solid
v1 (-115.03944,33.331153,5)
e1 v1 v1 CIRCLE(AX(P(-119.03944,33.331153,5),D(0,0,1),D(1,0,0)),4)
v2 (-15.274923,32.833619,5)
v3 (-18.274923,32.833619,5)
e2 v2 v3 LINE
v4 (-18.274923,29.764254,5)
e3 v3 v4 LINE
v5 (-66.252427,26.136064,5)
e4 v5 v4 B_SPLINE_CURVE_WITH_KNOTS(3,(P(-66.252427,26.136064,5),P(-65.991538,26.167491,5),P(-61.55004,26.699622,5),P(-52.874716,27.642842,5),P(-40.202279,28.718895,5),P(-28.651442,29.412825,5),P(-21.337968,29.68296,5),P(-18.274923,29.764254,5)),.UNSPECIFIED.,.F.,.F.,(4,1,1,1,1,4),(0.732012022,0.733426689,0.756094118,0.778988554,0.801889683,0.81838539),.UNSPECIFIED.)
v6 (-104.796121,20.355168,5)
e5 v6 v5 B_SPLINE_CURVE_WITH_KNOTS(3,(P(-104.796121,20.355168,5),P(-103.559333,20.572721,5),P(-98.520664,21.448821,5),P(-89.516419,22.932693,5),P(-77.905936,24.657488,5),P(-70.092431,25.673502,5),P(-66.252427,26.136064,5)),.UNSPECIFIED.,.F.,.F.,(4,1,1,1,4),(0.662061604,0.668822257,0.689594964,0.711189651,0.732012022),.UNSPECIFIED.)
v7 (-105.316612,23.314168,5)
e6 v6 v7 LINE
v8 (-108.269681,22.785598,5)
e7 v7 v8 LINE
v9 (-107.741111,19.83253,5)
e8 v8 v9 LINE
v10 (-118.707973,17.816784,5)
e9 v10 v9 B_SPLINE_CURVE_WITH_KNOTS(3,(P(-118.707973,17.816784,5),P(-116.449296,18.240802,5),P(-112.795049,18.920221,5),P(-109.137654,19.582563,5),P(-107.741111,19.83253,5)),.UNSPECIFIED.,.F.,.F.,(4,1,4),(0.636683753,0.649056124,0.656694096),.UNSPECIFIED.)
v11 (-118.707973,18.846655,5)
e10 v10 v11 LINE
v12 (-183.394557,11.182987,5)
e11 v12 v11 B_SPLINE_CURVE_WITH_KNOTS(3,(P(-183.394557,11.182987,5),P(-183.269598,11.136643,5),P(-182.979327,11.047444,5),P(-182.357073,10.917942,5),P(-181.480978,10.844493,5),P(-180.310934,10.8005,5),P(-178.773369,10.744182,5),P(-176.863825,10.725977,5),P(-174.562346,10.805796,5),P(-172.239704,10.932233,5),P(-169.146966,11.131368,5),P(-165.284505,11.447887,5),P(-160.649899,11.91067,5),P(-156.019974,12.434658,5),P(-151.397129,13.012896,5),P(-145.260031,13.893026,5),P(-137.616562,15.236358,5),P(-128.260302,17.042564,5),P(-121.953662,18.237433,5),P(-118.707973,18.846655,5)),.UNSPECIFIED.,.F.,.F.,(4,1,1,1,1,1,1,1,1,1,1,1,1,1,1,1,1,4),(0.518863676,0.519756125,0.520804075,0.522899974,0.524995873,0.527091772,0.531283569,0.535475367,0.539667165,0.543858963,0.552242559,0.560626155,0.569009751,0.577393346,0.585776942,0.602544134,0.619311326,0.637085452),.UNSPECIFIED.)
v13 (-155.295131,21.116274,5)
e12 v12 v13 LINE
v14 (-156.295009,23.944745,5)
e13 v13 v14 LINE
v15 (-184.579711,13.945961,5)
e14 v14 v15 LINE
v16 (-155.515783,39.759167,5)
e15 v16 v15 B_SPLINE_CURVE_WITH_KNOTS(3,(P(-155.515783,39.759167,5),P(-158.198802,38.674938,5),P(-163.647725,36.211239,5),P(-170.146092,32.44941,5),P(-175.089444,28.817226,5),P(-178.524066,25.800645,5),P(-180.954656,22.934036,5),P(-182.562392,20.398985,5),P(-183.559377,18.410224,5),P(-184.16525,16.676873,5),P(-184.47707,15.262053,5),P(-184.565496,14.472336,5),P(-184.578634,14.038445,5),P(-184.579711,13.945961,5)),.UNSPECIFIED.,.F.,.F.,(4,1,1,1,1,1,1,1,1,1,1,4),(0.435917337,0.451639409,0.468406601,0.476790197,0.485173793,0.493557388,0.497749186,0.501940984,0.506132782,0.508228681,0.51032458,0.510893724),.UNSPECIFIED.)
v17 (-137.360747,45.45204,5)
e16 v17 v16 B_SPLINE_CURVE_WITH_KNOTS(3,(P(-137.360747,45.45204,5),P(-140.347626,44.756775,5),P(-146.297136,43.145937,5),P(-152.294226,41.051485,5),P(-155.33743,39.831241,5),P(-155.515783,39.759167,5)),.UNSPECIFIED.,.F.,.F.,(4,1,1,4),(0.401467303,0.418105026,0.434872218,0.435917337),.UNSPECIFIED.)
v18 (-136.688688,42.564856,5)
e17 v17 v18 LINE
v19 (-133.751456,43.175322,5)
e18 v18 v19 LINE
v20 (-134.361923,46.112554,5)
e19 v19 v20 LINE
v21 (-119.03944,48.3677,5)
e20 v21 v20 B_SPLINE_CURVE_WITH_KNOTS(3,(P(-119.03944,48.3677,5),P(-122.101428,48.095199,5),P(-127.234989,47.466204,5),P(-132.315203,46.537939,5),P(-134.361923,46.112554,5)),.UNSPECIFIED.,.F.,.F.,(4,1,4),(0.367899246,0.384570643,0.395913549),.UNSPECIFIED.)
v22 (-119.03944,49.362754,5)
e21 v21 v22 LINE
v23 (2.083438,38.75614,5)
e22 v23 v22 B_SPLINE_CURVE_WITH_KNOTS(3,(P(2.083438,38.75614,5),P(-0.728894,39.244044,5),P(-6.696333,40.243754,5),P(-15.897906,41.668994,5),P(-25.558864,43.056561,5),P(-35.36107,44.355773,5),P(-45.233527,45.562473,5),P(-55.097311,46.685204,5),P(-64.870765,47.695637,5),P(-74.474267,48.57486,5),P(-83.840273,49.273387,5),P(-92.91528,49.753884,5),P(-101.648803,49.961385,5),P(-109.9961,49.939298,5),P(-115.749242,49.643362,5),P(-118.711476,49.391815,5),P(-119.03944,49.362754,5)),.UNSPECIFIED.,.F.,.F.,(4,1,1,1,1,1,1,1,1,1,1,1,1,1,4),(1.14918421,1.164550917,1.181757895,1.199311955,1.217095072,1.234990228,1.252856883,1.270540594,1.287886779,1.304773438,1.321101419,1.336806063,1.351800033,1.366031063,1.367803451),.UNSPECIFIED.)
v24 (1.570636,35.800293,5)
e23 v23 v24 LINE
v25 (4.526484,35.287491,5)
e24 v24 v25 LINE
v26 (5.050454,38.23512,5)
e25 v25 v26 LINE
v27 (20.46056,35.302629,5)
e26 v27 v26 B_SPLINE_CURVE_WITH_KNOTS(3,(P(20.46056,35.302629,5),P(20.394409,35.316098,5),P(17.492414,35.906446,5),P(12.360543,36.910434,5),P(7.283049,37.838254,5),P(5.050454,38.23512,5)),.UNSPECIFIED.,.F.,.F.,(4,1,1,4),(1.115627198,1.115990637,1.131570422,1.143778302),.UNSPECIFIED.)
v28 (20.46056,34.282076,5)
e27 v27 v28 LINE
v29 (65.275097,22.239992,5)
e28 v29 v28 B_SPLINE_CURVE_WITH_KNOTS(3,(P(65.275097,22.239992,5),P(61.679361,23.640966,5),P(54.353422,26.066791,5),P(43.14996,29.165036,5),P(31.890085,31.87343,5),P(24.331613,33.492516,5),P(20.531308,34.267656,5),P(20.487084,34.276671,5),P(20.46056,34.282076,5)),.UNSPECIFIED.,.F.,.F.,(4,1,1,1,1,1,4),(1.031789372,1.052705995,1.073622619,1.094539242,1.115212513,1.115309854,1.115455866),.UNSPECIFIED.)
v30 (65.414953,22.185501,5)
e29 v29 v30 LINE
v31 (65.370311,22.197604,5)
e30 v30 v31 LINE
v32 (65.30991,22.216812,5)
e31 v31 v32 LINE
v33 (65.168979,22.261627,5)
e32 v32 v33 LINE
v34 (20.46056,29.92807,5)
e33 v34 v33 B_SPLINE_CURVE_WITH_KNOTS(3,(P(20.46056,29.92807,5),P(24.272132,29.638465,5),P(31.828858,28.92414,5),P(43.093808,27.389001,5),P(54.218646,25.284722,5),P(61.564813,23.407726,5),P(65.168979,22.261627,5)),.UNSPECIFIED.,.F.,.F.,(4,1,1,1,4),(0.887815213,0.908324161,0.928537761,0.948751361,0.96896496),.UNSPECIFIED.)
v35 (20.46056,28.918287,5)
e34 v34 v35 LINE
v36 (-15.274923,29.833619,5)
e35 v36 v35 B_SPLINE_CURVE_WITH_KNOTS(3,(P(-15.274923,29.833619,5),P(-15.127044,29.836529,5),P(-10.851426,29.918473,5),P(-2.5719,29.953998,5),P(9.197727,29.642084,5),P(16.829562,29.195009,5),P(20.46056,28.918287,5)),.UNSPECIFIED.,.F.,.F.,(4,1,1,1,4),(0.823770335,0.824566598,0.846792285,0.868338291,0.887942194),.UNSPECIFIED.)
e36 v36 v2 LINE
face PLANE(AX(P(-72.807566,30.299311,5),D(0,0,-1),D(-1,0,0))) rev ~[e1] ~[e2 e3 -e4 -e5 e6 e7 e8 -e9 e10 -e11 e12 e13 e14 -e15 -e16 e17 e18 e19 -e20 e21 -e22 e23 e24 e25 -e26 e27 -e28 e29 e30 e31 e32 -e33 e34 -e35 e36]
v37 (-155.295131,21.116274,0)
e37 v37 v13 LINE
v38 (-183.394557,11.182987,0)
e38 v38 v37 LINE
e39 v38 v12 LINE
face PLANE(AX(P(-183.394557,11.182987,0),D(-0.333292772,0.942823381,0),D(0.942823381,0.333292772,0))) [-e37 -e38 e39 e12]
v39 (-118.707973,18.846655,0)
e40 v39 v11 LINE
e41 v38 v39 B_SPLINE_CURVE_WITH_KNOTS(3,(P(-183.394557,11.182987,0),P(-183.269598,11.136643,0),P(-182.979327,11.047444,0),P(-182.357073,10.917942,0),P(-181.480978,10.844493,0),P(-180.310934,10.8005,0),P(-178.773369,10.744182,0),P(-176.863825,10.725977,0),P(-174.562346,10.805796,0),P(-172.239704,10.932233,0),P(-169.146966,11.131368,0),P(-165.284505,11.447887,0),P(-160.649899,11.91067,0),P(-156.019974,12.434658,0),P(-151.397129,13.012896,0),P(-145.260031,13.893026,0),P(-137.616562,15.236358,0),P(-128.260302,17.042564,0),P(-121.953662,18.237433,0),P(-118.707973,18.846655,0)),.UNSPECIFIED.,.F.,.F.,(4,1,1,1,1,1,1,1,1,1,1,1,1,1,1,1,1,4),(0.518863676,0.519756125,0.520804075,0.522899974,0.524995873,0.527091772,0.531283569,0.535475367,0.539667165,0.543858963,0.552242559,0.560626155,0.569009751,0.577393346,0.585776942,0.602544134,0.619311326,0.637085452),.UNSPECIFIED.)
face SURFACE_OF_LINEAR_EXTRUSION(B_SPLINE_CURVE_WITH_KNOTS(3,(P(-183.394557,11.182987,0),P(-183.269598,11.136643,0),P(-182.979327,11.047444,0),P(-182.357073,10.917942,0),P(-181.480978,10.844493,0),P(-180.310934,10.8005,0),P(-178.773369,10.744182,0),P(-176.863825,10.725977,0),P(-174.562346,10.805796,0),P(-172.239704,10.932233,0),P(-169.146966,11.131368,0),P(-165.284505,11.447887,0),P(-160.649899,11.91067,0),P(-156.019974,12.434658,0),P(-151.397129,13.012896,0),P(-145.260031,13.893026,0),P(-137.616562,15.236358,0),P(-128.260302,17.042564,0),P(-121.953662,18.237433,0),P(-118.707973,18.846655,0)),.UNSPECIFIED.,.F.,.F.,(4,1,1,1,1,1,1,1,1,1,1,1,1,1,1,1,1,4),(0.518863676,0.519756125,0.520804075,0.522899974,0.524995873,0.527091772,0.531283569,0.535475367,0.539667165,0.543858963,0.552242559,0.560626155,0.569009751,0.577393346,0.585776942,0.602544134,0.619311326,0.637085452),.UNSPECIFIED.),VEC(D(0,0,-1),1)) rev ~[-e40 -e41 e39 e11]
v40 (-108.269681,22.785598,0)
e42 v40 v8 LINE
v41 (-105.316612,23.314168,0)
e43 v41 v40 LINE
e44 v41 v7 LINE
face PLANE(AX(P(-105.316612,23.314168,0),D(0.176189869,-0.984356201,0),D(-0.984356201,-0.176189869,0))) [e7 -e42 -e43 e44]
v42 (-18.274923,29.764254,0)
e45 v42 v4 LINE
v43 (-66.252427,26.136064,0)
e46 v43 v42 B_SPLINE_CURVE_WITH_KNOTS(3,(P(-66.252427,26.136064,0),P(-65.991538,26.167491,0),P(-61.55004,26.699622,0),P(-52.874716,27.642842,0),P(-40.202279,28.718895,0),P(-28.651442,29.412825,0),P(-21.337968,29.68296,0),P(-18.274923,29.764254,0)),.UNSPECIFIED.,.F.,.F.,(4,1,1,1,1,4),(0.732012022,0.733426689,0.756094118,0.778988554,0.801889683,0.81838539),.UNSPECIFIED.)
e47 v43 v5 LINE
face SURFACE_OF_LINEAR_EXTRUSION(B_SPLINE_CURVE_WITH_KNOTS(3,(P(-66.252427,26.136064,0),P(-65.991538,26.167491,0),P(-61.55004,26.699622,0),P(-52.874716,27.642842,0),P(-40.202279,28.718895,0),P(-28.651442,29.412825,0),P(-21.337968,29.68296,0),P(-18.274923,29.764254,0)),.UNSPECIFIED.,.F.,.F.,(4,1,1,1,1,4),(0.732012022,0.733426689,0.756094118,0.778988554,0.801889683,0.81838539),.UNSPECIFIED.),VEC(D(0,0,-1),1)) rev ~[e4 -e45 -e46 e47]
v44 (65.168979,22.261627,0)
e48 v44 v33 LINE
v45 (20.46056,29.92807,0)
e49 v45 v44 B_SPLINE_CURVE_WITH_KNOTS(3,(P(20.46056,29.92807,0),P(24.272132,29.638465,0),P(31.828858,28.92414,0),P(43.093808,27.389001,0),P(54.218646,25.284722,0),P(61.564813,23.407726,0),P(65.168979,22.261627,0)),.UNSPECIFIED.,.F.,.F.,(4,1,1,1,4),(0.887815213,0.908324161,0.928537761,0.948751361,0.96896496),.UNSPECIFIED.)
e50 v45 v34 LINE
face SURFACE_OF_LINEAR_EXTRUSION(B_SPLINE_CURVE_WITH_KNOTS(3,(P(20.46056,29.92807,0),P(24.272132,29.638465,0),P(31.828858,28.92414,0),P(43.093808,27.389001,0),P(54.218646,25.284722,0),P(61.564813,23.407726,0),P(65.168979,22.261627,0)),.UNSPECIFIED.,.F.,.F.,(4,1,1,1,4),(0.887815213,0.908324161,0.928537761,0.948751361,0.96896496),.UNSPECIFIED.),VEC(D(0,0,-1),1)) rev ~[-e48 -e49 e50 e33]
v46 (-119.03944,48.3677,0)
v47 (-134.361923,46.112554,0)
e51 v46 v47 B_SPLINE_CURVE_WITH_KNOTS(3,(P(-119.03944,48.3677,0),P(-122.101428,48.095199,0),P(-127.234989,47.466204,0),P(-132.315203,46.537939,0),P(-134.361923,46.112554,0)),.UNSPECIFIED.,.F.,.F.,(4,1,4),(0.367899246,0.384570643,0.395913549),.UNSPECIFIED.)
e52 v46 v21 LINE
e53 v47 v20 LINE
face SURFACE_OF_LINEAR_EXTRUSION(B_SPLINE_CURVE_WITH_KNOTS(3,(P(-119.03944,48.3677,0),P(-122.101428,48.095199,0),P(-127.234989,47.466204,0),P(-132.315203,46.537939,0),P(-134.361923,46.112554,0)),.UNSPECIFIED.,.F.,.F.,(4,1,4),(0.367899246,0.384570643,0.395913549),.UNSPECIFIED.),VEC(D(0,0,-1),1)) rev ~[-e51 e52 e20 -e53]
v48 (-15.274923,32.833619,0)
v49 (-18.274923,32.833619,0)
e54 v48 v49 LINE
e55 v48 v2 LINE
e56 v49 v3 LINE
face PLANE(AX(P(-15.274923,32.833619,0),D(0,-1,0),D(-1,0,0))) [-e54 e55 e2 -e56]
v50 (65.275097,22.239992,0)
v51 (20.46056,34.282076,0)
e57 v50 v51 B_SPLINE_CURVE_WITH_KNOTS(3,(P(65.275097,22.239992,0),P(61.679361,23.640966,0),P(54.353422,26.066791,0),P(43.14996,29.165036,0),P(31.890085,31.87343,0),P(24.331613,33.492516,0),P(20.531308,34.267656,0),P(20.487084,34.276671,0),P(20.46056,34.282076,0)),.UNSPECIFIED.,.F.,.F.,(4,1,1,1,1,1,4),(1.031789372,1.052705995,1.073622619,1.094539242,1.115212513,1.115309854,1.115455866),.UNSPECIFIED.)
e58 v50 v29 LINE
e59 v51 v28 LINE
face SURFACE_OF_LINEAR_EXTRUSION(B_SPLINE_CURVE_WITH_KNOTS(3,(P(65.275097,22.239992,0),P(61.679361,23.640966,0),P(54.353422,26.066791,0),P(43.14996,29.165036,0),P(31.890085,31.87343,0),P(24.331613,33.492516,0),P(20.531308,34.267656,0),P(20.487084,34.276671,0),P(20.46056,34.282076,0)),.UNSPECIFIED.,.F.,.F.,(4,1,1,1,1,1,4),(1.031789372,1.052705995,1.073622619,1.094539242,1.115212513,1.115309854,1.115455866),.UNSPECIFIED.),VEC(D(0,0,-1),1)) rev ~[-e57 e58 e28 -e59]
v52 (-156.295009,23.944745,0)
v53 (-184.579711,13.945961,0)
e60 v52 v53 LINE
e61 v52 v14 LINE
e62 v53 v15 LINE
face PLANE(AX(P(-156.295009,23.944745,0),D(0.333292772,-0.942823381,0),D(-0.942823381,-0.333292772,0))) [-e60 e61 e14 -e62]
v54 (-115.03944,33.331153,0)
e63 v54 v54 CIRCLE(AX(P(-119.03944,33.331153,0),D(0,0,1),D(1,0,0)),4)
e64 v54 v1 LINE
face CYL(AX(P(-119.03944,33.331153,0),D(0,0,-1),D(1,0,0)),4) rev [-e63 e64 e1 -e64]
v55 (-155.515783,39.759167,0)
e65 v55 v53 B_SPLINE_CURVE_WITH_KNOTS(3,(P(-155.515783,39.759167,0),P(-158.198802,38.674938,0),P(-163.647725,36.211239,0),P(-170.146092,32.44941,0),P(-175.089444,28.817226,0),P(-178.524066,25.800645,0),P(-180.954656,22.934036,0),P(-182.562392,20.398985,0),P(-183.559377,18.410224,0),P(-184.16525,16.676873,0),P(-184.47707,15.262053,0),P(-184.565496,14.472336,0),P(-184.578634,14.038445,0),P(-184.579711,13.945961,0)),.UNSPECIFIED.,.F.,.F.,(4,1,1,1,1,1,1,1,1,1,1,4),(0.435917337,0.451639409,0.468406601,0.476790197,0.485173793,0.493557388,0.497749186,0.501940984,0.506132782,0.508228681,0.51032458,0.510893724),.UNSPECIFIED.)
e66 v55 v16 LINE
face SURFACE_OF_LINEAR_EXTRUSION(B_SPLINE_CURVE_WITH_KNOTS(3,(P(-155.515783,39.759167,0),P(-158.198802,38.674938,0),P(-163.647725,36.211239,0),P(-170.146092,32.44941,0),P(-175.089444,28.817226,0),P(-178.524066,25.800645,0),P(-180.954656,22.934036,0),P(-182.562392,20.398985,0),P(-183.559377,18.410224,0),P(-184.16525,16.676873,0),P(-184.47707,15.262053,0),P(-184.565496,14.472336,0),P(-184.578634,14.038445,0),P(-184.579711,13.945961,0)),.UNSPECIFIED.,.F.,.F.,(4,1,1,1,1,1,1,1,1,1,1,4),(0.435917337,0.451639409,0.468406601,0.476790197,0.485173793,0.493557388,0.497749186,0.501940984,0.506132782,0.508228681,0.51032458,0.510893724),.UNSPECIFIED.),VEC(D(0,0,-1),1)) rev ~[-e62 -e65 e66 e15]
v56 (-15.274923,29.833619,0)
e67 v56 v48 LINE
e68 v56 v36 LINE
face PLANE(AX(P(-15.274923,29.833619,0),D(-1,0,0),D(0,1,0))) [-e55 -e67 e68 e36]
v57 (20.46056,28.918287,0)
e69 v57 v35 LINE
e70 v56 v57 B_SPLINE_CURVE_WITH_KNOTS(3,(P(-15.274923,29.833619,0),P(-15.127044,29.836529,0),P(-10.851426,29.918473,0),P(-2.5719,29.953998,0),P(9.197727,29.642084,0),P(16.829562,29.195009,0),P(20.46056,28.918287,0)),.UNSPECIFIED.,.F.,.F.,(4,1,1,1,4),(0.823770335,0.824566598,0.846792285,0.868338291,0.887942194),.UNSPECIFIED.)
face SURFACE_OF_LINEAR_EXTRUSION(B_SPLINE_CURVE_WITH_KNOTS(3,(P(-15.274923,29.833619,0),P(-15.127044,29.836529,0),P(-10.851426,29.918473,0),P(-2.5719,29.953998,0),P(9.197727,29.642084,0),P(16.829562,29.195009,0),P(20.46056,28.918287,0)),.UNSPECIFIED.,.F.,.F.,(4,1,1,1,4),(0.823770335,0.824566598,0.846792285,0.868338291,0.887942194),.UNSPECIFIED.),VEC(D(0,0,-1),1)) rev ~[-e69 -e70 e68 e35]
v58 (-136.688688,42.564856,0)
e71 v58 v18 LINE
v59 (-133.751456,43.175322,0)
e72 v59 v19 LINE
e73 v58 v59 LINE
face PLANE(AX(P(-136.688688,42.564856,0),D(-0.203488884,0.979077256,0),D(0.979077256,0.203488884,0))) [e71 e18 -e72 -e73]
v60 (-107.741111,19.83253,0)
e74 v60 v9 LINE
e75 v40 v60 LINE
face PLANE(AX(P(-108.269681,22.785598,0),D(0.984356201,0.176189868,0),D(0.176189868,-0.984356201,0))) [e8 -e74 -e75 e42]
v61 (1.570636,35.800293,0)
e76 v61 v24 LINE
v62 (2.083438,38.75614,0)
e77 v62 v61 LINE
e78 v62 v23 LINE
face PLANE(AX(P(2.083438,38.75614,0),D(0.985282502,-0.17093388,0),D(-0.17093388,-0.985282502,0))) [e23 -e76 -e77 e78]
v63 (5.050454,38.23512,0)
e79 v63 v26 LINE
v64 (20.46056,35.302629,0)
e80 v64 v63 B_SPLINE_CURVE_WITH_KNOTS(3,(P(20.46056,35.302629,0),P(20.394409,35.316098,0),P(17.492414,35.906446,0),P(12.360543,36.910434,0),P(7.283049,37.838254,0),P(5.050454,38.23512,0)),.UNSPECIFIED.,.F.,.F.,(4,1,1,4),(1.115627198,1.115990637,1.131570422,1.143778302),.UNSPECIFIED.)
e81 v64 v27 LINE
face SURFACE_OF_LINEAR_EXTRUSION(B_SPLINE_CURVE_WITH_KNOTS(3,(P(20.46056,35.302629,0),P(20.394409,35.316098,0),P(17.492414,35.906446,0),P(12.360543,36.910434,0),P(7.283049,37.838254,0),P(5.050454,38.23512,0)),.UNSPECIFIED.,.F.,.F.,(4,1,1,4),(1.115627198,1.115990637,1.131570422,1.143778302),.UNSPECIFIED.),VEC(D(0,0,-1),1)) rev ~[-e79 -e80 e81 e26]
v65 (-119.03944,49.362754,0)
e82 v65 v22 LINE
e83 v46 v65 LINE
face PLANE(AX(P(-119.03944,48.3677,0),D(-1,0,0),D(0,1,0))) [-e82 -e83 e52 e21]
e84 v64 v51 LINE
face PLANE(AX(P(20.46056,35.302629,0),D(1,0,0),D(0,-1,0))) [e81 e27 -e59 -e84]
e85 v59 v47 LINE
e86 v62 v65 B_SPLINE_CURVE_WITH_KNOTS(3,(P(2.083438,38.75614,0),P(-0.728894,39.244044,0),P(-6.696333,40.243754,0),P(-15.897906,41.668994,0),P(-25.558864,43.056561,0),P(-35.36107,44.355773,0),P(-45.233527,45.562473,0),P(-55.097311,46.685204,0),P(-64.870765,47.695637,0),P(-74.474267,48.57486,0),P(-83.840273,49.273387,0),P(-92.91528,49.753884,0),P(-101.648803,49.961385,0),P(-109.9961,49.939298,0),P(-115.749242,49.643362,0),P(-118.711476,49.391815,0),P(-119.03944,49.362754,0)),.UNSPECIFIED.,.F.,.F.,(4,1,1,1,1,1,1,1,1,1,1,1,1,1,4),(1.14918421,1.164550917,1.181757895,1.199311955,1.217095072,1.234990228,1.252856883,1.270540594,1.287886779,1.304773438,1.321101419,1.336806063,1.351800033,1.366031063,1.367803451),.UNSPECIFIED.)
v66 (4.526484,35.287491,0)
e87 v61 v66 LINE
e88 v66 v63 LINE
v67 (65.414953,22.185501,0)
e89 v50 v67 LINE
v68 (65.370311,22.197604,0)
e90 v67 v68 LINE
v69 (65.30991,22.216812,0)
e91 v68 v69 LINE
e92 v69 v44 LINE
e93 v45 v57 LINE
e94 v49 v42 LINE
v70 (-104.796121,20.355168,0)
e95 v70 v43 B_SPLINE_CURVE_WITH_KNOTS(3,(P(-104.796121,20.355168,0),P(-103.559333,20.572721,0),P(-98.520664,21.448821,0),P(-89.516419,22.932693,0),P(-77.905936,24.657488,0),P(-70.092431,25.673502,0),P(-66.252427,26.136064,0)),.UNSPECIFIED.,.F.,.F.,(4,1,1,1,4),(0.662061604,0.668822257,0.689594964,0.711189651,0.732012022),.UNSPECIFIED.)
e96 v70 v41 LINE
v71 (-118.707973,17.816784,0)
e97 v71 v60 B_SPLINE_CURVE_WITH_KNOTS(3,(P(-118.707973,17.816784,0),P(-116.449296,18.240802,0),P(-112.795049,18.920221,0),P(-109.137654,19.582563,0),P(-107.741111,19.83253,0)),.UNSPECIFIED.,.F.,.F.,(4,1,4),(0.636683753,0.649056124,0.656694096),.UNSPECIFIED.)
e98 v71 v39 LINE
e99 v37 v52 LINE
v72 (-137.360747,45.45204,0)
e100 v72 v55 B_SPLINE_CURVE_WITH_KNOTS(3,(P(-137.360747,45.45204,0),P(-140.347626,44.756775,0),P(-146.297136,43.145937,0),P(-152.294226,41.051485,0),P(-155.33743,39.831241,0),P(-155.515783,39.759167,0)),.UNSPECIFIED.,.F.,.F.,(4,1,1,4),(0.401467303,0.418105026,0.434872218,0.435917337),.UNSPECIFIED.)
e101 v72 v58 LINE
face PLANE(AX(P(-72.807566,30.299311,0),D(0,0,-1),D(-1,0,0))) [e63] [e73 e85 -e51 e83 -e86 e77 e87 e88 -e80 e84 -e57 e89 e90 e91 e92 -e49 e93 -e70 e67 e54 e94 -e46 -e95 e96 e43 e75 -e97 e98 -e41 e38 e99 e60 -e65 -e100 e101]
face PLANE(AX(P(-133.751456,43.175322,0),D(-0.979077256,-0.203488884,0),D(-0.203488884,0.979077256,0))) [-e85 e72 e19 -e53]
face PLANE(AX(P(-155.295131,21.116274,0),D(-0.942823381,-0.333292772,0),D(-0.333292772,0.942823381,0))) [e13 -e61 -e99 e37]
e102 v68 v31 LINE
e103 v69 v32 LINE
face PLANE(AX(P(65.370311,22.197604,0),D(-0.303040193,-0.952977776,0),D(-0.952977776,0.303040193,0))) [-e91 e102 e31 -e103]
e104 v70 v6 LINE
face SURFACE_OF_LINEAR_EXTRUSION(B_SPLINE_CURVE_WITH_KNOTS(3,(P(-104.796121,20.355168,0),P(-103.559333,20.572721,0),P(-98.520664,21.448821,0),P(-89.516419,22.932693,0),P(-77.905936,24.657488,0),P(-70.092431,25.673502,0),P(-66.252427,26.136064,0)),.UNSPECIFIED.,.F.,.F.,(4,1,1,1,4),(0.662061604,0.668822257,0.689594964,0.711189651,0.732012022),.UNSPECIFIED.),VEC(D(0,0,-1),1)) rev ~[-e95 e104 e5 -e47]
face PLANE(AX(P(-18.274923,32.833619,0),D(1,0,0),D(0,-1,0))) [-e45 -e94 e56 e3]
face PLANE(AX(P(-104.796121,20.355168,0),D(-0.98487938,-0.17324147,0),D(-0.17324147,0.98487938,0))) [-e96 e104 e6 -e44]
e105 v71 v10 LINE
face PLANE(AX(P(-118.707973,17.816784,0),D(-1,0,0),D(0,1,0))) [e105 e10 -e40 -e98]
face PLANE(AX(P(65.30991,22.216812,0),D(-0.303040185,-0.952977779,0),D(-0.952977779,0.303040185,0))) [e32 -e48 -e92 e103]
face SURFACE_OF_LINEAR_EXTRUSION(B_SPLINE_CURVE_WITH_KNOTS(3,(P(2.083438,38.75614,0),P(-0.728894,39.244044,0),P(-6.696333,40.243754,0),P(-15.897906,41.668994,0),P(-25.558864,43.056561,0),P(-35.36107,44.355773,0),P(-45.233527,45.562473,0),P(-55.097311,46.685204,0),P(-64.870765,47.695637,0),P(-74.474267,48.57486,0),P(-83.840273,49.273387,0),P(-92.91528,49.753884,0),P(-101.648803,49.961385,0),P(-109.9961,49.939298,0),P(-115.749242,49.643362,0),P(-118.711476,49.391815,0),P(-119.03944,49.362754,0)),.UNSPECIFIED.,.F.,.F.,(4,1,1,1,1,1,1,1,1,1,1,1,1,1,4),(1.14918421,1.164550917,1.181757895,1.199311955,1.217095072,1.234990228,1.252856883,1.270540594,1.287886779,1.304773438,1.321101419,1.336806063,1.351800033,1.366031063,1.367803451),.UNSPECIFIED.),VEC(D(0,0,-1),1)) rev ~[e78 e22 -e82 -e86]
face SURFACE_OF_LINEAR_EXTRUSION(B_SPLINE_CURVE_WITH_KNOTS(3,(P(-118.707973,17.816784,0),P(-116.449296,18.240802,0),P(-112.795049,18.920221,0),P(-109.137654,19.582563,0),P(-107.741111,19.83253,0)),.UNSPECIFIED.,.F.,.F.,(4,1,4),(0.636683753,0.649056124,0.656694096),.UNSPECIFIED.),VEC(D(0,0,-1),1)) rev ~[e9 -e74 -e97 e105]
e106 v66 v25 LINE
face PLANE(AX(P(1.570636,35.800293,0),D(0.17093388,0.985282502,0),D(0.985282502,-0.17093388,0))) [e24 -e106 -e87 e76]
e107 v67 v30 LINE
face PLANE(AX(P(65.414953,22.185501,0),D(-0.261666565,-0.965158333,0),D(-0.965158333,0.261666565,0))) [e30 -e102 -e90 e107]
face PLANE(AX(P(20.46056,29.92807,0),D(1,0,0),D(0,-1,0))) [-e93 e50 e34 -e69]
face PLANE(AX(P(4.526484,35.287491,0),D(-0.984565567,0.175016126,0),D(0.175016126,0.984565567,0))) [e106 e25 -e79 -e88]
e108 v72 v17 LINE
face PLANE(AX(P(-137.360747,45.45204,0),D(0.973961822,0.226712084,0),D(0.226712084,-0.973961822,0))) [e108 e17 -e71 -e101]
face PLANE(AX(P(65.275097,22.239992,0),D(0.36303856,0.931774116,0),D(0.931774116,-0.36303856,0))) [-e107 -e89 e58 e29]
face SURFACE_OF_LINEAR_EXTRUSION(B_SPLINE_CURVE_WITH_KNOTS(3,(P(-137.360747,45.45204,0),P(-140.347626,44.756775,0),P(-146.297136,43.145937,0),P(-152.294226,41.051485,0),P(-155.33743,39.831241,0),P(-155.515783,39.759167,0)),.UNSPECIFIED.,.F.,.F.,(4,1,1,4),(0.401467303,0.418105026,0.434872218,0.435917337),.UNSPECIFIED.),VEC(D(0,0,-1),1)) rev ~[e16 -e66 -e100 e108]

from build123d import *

# Parameters (mm, degrees)
SKETCH1_R           = 3.999999999
BOSS_EXTRUDE2_DEPTH = 5


with BuildPart() as part:
    # Sketch1 → Boss-Extrude2 (new body)
    with BuildSketch(Plane.XY):
        with BuildLine():
            Line((-15.274923413, 29.833619039), (-15.274923413, 32.833619039))
            Line((-15.274923413, 32.833619039), (-18.274923413, 32.833619039))
            Line((-18.274923413, 32.833619039), (-18.274923413, 29.764253579))
            add(Edge.make_bspline(
                [(-66.252426936, 26.136064153), (-65.99153802, 26.167490518), (-61.550040243, 26.699622457), (-52.874715524, 27.642842037), (-40.202279044, 28.718895324), (-28.651441859, 29.412825252), (-21.337967835, 29.682959943), (-18.274923413, 29.764253579)],
                knots=[0.732012022, 0.732012022, 0.732012022, 0.732012022, 0.733426689, 0.756094118, 0.778988554, 0.801889683, 0.81838539, 0.81838539, 0.81838539, 0.81838539], degree=3))
            add(Edge.make_bspline(
                [(-104.796120847, 20.355168115), (-103.559333031, 20.572720582), (-98.520663765, 21.448820944), (-89.516418694, 22.932693275), (-77.905936271, 24.657488266), (-70.092430975, 25.673501889), (-66.252426936, 26.136064153)],
                knots=[0.662061604, 0.662061604, 0.662061604, 0.662061604, 0.668822257, 0.689594964, 0.711189651, 0.732012022, 0.732012022, 0.732012022, 0.732012022], degree=3))
            Line((-104.796120847, 20.355168115), (-105.316612447, 23.314167741))
            Line((-105.316612447, 23.314167741), (-108.269681049, 22.785598135))
            Line((-108.269681049, 22.785598135), (-107.741111444, 19.832529532))
            add(Edge.make_bspline(
                [(-118.70797288, 17.816784281), (-116.449296053, 18.24080163), (-112.795049314, 18.920221392), (-109.137653616, 19.582562517), (-107.741111444, 19.832529532)],
                knots=[0.636683753, 0.636683753, 0.636683753, 0.636683753, 0.649056124, 0.656694096, 0.656694096, 0.656694096, 0.656694096], degree=3))
            Line((-118.70797288, 17.816784281), (-118.70797288, 18.846655309))
            add(Edge.make_bspline(
                [(-183.394556944, 11.182987133), (-183.269597768, 11.136643498), (-182.979327212, 11.047444159), (-182.357072613, 10.91794176), (-181.480978355, 10.844493332), (-180.310934344, 10.800500045), (-178.773368721, 10.744182309), (-176.863824927, 10.725976619), (-174.562346174, 10.805796173), (-172.239703955, 10.932232791), (-169.146965898, 11.131368159), (-165.284504809, 11.447886607), (-160.649899412, 11.910670397), (-156.019974465, 12.434658225), (-151.397129438, 13.012896286), (-145.26003141, 13.893026363), (-137.616562363, 15.236357693), (-128.260301851, 17.042564162), (-121.953662416, 18.237432565), (-118.70797288, 18.846655309)],
                knots=[0.518863676, 0.518863676, 0.518863676, 0.518863676, 0.519756125, 0.520804075, 0.522899974, 0.524995873, 0.527091772, 0.531283569, 0.535475367, 0.539667165, 0.543858963, 0.552242559, 0.560626155, 0.569009751, 0.577393346, 0.585776942, 0.602544134, 0.619311326, 0.637085452, 0.637085452, 0.637085452, 0.637085452], degree=3))
            Line((-183.394556944, 11.182987133), (-155.295131064, 21.116274472))
            Line((-155.295131064, 21.116274472), (-156.295009381, 23.944744615))
            Line((-156.295009381, 23.944744615), (-184.579710813, 13.945961444))
            add(Edge.make_bspline(
                [(-155.515782717, 39.759167392), (-158.198801988, 38.674937943), (-163.647725294, 36.211238779), (-170.146091995, 32.449410331), (-175.089444119, 28.817226184), (-178.524066381, 25.800644684), (-180.954655773, 22.934036286), (-182.562392143, 20.398985473), (-183.559377406, 18.410224133), (-184.165249843, 16.676872754), (-184.477069616, 15.262053142), (-184.565495729, 14.472335947), (-184.578634412, 14.038444976), (-184.579710813, 13.945961444)],
                knots=[0.435917337, 0.435917337, 0.435917337, 0.435917337, 0.451639409, 0.468406601, 0.476790197, 0.485173793, 0.493557388, 0.497749186, 0.501940984, 0.506132782, 0.508228681, 0.51032458, 0.510893724, 0.510893724, 0.510893724, 0.510893724], degree=3))
            add(Edge.make_bspline(
                [(-137.360746756, 45.452039662), (-140.347626388, 44.756774519), (-146.297136186, 43.145936866), (-152.294225784, 41.051484901), (-155.337429936, 39.83124117), (-155.515782717, 39.759167392)],
                knots=[0.401467303, 0.401467303, 0.401467303, 0.401467303, 0.418105026, 0.434872218, 0.435917337, 0.435917337, 0.435917337, 0.435917337], degree=3))
            Line((-137.360746756, 45.452039662), (-136.68868811, 42.564855828))
            Line((-136.68868811, 42.564855828), (-133.751456289, 43.175322491))
            Line((-133.751456289, 43.175322491), (-134.361922941, 46.112554263))
            add(Edge.make_bspline(
                [(-119.03943959, 48.367699671), (-122.101427551, 48.095199158), (-127.234989348, 47.466204387), (-132.315203048, 46.53793923), (-134.361922941, 46.112554263)],
                knots=[0.367899246, 0.367899246, 0.367899246, 0.367899246, 0.384570643, 0.395913549, 0.395913549, 0.395913549, 0.395913549], degree=3))
            Line((-119.03943959, 48.367699671), (-119.03943959, 49.362753806))
            add(Edge.make_bspline(
                [(2.083438055, 38.756140327), (-0.72889412, 39.244043897), (-6.696332714, 40.243753549), (-15.89790578, 41.668993742), (-25.558864032, 43.056561005), (-35.361070129, 44.355773078), (-45.233526647, 45.562472552), (-55.097310785, 46.685203514), (-64.8707651, 47.695636562), (-74.474266757, 48.574860292), (-83.840272575, 49.273387192), (-92.915280488, 49.753884046), (-101.648803262, 49.961384976), (-109.996100301, 49.939297857), (-115.749241876, 49.643362388), (-118.71147616, 49.391814724), (-119.03943959, 49.362753806)],
                knots=[1.14918421, 1.14918421, 1.14918421, 1.14918421, 1.164550917, 1.181757895, 1.199311955, 1.217095072, 1.234990228, 1.252856883, 1.270540594, 1.287886779, 1.304773438, 1.321101419, 1.336806063, 1.351800033, 1.366031063, 1.367803451, 1.367803451, 1.367803451, 1.367803451], degree=3))
            Line((2.083438055, 38.756140327), (1.570636408, 35.800292785))
            Line((1.570636408, 35.800292785), (4.526483923, 35.287491143))
            Line((4.526483923, 35.287491143), (5.050453634, 38.235119732))
            add(Edge.make_bspline(
                [(20.460560403, 35.302628948), (20.394409373, 35.316097767), (17.49241378, 35.906446136), (12.360542854, 36.910434115), (7.283049441, 37.838254067), (5.050453634, 38.235119732)],
                knots=[1.115627198, 1.115627198, 1.115627198, 1.115627198, 1.115990637, 1.131570422, 1.143778302, 1.143778302, 1.143778302, 1.143778302], degree=3))
            Line((20.460560403, 35.302628948), (20.460560403, 34.282075586))
            add(Edge.make_bspline(
                [(65.275097468, 22.239991987), (61.679361096, 23.640965601), (54.353421886, 26.066791161), (43.149959551, 29.165035882), (31.890085438, 31.87342955), (24.331612619, 33.492515647), (20.531307928, 34.267655777), (20.487084066, 34.276670707), (20.460560403, 34.282075586)],
                knots=[1.031789372, 1.031789372, 1.031789372, 1.031789372, 1.052705995, 1.073622619, 1.094539242, 1.115212513, 1.115309854, 1.115455866, 1.115455866, 1.115455866, 1.115455866], degree=3))
            Line((65.275097468, 22.239991987), (65.414953329, 22.185501237))
            Line((65.414953329, 22.185501237), (65.370311306, 22.197604251))
            Line((65.370311306, 22.197604251), (65.30990973, 22.216811525))
            Line((65.30990973, 22.216811525), (65.168978604, 22.261626625))
            add(Edge.make_bspline(
                [(20.460560403, 29.92806979), (24.272131516, 29.638464904), (31.828857812, 28.924140294), (43.093807963, 27.389001087), (54.218645522, 25.284722166), (61.564813063, 23.407725759), (65.168978604, 22.261626625)],
                knots=[0.887815213, 0.887815213, 0.887815213, 0.887815213, 0.908324161, 0.928537761, 0.948751361, 0.96896496, 0.96896496, 0.96896496, 0.96896496], degree=3))
            Line((20.460560403, 29.92806979), (20.460560403, 28.918286698))
            add(Edge.make_bspline(
                [(-15.274923413, 29.833619039), (-15.127043667, 29.836529068), (-10.8514258, 29.918473039), (-2.571900305, 29.953998423), (9.197726912, 29.642084048), (16.829562085, 29.195008503), (20.460560403, 28.918286698)],
                knots=[0.823770335, 0.823770335, 0.823770335, 0.823770335, 0.824566598, 0.846792285, 0.868338291, 0.887942194, 0.887942194, 0.887942194, 0.887942194], degree=3))
        make_face()
        with Locations((-119.03943959, 33.331153055)):
            Circle(SKETCH1_R, mode=Mode.SUBTRACT)
    extrude(amount=BOSS_EXTRUDE2_DEPTH)


solid = part.part
